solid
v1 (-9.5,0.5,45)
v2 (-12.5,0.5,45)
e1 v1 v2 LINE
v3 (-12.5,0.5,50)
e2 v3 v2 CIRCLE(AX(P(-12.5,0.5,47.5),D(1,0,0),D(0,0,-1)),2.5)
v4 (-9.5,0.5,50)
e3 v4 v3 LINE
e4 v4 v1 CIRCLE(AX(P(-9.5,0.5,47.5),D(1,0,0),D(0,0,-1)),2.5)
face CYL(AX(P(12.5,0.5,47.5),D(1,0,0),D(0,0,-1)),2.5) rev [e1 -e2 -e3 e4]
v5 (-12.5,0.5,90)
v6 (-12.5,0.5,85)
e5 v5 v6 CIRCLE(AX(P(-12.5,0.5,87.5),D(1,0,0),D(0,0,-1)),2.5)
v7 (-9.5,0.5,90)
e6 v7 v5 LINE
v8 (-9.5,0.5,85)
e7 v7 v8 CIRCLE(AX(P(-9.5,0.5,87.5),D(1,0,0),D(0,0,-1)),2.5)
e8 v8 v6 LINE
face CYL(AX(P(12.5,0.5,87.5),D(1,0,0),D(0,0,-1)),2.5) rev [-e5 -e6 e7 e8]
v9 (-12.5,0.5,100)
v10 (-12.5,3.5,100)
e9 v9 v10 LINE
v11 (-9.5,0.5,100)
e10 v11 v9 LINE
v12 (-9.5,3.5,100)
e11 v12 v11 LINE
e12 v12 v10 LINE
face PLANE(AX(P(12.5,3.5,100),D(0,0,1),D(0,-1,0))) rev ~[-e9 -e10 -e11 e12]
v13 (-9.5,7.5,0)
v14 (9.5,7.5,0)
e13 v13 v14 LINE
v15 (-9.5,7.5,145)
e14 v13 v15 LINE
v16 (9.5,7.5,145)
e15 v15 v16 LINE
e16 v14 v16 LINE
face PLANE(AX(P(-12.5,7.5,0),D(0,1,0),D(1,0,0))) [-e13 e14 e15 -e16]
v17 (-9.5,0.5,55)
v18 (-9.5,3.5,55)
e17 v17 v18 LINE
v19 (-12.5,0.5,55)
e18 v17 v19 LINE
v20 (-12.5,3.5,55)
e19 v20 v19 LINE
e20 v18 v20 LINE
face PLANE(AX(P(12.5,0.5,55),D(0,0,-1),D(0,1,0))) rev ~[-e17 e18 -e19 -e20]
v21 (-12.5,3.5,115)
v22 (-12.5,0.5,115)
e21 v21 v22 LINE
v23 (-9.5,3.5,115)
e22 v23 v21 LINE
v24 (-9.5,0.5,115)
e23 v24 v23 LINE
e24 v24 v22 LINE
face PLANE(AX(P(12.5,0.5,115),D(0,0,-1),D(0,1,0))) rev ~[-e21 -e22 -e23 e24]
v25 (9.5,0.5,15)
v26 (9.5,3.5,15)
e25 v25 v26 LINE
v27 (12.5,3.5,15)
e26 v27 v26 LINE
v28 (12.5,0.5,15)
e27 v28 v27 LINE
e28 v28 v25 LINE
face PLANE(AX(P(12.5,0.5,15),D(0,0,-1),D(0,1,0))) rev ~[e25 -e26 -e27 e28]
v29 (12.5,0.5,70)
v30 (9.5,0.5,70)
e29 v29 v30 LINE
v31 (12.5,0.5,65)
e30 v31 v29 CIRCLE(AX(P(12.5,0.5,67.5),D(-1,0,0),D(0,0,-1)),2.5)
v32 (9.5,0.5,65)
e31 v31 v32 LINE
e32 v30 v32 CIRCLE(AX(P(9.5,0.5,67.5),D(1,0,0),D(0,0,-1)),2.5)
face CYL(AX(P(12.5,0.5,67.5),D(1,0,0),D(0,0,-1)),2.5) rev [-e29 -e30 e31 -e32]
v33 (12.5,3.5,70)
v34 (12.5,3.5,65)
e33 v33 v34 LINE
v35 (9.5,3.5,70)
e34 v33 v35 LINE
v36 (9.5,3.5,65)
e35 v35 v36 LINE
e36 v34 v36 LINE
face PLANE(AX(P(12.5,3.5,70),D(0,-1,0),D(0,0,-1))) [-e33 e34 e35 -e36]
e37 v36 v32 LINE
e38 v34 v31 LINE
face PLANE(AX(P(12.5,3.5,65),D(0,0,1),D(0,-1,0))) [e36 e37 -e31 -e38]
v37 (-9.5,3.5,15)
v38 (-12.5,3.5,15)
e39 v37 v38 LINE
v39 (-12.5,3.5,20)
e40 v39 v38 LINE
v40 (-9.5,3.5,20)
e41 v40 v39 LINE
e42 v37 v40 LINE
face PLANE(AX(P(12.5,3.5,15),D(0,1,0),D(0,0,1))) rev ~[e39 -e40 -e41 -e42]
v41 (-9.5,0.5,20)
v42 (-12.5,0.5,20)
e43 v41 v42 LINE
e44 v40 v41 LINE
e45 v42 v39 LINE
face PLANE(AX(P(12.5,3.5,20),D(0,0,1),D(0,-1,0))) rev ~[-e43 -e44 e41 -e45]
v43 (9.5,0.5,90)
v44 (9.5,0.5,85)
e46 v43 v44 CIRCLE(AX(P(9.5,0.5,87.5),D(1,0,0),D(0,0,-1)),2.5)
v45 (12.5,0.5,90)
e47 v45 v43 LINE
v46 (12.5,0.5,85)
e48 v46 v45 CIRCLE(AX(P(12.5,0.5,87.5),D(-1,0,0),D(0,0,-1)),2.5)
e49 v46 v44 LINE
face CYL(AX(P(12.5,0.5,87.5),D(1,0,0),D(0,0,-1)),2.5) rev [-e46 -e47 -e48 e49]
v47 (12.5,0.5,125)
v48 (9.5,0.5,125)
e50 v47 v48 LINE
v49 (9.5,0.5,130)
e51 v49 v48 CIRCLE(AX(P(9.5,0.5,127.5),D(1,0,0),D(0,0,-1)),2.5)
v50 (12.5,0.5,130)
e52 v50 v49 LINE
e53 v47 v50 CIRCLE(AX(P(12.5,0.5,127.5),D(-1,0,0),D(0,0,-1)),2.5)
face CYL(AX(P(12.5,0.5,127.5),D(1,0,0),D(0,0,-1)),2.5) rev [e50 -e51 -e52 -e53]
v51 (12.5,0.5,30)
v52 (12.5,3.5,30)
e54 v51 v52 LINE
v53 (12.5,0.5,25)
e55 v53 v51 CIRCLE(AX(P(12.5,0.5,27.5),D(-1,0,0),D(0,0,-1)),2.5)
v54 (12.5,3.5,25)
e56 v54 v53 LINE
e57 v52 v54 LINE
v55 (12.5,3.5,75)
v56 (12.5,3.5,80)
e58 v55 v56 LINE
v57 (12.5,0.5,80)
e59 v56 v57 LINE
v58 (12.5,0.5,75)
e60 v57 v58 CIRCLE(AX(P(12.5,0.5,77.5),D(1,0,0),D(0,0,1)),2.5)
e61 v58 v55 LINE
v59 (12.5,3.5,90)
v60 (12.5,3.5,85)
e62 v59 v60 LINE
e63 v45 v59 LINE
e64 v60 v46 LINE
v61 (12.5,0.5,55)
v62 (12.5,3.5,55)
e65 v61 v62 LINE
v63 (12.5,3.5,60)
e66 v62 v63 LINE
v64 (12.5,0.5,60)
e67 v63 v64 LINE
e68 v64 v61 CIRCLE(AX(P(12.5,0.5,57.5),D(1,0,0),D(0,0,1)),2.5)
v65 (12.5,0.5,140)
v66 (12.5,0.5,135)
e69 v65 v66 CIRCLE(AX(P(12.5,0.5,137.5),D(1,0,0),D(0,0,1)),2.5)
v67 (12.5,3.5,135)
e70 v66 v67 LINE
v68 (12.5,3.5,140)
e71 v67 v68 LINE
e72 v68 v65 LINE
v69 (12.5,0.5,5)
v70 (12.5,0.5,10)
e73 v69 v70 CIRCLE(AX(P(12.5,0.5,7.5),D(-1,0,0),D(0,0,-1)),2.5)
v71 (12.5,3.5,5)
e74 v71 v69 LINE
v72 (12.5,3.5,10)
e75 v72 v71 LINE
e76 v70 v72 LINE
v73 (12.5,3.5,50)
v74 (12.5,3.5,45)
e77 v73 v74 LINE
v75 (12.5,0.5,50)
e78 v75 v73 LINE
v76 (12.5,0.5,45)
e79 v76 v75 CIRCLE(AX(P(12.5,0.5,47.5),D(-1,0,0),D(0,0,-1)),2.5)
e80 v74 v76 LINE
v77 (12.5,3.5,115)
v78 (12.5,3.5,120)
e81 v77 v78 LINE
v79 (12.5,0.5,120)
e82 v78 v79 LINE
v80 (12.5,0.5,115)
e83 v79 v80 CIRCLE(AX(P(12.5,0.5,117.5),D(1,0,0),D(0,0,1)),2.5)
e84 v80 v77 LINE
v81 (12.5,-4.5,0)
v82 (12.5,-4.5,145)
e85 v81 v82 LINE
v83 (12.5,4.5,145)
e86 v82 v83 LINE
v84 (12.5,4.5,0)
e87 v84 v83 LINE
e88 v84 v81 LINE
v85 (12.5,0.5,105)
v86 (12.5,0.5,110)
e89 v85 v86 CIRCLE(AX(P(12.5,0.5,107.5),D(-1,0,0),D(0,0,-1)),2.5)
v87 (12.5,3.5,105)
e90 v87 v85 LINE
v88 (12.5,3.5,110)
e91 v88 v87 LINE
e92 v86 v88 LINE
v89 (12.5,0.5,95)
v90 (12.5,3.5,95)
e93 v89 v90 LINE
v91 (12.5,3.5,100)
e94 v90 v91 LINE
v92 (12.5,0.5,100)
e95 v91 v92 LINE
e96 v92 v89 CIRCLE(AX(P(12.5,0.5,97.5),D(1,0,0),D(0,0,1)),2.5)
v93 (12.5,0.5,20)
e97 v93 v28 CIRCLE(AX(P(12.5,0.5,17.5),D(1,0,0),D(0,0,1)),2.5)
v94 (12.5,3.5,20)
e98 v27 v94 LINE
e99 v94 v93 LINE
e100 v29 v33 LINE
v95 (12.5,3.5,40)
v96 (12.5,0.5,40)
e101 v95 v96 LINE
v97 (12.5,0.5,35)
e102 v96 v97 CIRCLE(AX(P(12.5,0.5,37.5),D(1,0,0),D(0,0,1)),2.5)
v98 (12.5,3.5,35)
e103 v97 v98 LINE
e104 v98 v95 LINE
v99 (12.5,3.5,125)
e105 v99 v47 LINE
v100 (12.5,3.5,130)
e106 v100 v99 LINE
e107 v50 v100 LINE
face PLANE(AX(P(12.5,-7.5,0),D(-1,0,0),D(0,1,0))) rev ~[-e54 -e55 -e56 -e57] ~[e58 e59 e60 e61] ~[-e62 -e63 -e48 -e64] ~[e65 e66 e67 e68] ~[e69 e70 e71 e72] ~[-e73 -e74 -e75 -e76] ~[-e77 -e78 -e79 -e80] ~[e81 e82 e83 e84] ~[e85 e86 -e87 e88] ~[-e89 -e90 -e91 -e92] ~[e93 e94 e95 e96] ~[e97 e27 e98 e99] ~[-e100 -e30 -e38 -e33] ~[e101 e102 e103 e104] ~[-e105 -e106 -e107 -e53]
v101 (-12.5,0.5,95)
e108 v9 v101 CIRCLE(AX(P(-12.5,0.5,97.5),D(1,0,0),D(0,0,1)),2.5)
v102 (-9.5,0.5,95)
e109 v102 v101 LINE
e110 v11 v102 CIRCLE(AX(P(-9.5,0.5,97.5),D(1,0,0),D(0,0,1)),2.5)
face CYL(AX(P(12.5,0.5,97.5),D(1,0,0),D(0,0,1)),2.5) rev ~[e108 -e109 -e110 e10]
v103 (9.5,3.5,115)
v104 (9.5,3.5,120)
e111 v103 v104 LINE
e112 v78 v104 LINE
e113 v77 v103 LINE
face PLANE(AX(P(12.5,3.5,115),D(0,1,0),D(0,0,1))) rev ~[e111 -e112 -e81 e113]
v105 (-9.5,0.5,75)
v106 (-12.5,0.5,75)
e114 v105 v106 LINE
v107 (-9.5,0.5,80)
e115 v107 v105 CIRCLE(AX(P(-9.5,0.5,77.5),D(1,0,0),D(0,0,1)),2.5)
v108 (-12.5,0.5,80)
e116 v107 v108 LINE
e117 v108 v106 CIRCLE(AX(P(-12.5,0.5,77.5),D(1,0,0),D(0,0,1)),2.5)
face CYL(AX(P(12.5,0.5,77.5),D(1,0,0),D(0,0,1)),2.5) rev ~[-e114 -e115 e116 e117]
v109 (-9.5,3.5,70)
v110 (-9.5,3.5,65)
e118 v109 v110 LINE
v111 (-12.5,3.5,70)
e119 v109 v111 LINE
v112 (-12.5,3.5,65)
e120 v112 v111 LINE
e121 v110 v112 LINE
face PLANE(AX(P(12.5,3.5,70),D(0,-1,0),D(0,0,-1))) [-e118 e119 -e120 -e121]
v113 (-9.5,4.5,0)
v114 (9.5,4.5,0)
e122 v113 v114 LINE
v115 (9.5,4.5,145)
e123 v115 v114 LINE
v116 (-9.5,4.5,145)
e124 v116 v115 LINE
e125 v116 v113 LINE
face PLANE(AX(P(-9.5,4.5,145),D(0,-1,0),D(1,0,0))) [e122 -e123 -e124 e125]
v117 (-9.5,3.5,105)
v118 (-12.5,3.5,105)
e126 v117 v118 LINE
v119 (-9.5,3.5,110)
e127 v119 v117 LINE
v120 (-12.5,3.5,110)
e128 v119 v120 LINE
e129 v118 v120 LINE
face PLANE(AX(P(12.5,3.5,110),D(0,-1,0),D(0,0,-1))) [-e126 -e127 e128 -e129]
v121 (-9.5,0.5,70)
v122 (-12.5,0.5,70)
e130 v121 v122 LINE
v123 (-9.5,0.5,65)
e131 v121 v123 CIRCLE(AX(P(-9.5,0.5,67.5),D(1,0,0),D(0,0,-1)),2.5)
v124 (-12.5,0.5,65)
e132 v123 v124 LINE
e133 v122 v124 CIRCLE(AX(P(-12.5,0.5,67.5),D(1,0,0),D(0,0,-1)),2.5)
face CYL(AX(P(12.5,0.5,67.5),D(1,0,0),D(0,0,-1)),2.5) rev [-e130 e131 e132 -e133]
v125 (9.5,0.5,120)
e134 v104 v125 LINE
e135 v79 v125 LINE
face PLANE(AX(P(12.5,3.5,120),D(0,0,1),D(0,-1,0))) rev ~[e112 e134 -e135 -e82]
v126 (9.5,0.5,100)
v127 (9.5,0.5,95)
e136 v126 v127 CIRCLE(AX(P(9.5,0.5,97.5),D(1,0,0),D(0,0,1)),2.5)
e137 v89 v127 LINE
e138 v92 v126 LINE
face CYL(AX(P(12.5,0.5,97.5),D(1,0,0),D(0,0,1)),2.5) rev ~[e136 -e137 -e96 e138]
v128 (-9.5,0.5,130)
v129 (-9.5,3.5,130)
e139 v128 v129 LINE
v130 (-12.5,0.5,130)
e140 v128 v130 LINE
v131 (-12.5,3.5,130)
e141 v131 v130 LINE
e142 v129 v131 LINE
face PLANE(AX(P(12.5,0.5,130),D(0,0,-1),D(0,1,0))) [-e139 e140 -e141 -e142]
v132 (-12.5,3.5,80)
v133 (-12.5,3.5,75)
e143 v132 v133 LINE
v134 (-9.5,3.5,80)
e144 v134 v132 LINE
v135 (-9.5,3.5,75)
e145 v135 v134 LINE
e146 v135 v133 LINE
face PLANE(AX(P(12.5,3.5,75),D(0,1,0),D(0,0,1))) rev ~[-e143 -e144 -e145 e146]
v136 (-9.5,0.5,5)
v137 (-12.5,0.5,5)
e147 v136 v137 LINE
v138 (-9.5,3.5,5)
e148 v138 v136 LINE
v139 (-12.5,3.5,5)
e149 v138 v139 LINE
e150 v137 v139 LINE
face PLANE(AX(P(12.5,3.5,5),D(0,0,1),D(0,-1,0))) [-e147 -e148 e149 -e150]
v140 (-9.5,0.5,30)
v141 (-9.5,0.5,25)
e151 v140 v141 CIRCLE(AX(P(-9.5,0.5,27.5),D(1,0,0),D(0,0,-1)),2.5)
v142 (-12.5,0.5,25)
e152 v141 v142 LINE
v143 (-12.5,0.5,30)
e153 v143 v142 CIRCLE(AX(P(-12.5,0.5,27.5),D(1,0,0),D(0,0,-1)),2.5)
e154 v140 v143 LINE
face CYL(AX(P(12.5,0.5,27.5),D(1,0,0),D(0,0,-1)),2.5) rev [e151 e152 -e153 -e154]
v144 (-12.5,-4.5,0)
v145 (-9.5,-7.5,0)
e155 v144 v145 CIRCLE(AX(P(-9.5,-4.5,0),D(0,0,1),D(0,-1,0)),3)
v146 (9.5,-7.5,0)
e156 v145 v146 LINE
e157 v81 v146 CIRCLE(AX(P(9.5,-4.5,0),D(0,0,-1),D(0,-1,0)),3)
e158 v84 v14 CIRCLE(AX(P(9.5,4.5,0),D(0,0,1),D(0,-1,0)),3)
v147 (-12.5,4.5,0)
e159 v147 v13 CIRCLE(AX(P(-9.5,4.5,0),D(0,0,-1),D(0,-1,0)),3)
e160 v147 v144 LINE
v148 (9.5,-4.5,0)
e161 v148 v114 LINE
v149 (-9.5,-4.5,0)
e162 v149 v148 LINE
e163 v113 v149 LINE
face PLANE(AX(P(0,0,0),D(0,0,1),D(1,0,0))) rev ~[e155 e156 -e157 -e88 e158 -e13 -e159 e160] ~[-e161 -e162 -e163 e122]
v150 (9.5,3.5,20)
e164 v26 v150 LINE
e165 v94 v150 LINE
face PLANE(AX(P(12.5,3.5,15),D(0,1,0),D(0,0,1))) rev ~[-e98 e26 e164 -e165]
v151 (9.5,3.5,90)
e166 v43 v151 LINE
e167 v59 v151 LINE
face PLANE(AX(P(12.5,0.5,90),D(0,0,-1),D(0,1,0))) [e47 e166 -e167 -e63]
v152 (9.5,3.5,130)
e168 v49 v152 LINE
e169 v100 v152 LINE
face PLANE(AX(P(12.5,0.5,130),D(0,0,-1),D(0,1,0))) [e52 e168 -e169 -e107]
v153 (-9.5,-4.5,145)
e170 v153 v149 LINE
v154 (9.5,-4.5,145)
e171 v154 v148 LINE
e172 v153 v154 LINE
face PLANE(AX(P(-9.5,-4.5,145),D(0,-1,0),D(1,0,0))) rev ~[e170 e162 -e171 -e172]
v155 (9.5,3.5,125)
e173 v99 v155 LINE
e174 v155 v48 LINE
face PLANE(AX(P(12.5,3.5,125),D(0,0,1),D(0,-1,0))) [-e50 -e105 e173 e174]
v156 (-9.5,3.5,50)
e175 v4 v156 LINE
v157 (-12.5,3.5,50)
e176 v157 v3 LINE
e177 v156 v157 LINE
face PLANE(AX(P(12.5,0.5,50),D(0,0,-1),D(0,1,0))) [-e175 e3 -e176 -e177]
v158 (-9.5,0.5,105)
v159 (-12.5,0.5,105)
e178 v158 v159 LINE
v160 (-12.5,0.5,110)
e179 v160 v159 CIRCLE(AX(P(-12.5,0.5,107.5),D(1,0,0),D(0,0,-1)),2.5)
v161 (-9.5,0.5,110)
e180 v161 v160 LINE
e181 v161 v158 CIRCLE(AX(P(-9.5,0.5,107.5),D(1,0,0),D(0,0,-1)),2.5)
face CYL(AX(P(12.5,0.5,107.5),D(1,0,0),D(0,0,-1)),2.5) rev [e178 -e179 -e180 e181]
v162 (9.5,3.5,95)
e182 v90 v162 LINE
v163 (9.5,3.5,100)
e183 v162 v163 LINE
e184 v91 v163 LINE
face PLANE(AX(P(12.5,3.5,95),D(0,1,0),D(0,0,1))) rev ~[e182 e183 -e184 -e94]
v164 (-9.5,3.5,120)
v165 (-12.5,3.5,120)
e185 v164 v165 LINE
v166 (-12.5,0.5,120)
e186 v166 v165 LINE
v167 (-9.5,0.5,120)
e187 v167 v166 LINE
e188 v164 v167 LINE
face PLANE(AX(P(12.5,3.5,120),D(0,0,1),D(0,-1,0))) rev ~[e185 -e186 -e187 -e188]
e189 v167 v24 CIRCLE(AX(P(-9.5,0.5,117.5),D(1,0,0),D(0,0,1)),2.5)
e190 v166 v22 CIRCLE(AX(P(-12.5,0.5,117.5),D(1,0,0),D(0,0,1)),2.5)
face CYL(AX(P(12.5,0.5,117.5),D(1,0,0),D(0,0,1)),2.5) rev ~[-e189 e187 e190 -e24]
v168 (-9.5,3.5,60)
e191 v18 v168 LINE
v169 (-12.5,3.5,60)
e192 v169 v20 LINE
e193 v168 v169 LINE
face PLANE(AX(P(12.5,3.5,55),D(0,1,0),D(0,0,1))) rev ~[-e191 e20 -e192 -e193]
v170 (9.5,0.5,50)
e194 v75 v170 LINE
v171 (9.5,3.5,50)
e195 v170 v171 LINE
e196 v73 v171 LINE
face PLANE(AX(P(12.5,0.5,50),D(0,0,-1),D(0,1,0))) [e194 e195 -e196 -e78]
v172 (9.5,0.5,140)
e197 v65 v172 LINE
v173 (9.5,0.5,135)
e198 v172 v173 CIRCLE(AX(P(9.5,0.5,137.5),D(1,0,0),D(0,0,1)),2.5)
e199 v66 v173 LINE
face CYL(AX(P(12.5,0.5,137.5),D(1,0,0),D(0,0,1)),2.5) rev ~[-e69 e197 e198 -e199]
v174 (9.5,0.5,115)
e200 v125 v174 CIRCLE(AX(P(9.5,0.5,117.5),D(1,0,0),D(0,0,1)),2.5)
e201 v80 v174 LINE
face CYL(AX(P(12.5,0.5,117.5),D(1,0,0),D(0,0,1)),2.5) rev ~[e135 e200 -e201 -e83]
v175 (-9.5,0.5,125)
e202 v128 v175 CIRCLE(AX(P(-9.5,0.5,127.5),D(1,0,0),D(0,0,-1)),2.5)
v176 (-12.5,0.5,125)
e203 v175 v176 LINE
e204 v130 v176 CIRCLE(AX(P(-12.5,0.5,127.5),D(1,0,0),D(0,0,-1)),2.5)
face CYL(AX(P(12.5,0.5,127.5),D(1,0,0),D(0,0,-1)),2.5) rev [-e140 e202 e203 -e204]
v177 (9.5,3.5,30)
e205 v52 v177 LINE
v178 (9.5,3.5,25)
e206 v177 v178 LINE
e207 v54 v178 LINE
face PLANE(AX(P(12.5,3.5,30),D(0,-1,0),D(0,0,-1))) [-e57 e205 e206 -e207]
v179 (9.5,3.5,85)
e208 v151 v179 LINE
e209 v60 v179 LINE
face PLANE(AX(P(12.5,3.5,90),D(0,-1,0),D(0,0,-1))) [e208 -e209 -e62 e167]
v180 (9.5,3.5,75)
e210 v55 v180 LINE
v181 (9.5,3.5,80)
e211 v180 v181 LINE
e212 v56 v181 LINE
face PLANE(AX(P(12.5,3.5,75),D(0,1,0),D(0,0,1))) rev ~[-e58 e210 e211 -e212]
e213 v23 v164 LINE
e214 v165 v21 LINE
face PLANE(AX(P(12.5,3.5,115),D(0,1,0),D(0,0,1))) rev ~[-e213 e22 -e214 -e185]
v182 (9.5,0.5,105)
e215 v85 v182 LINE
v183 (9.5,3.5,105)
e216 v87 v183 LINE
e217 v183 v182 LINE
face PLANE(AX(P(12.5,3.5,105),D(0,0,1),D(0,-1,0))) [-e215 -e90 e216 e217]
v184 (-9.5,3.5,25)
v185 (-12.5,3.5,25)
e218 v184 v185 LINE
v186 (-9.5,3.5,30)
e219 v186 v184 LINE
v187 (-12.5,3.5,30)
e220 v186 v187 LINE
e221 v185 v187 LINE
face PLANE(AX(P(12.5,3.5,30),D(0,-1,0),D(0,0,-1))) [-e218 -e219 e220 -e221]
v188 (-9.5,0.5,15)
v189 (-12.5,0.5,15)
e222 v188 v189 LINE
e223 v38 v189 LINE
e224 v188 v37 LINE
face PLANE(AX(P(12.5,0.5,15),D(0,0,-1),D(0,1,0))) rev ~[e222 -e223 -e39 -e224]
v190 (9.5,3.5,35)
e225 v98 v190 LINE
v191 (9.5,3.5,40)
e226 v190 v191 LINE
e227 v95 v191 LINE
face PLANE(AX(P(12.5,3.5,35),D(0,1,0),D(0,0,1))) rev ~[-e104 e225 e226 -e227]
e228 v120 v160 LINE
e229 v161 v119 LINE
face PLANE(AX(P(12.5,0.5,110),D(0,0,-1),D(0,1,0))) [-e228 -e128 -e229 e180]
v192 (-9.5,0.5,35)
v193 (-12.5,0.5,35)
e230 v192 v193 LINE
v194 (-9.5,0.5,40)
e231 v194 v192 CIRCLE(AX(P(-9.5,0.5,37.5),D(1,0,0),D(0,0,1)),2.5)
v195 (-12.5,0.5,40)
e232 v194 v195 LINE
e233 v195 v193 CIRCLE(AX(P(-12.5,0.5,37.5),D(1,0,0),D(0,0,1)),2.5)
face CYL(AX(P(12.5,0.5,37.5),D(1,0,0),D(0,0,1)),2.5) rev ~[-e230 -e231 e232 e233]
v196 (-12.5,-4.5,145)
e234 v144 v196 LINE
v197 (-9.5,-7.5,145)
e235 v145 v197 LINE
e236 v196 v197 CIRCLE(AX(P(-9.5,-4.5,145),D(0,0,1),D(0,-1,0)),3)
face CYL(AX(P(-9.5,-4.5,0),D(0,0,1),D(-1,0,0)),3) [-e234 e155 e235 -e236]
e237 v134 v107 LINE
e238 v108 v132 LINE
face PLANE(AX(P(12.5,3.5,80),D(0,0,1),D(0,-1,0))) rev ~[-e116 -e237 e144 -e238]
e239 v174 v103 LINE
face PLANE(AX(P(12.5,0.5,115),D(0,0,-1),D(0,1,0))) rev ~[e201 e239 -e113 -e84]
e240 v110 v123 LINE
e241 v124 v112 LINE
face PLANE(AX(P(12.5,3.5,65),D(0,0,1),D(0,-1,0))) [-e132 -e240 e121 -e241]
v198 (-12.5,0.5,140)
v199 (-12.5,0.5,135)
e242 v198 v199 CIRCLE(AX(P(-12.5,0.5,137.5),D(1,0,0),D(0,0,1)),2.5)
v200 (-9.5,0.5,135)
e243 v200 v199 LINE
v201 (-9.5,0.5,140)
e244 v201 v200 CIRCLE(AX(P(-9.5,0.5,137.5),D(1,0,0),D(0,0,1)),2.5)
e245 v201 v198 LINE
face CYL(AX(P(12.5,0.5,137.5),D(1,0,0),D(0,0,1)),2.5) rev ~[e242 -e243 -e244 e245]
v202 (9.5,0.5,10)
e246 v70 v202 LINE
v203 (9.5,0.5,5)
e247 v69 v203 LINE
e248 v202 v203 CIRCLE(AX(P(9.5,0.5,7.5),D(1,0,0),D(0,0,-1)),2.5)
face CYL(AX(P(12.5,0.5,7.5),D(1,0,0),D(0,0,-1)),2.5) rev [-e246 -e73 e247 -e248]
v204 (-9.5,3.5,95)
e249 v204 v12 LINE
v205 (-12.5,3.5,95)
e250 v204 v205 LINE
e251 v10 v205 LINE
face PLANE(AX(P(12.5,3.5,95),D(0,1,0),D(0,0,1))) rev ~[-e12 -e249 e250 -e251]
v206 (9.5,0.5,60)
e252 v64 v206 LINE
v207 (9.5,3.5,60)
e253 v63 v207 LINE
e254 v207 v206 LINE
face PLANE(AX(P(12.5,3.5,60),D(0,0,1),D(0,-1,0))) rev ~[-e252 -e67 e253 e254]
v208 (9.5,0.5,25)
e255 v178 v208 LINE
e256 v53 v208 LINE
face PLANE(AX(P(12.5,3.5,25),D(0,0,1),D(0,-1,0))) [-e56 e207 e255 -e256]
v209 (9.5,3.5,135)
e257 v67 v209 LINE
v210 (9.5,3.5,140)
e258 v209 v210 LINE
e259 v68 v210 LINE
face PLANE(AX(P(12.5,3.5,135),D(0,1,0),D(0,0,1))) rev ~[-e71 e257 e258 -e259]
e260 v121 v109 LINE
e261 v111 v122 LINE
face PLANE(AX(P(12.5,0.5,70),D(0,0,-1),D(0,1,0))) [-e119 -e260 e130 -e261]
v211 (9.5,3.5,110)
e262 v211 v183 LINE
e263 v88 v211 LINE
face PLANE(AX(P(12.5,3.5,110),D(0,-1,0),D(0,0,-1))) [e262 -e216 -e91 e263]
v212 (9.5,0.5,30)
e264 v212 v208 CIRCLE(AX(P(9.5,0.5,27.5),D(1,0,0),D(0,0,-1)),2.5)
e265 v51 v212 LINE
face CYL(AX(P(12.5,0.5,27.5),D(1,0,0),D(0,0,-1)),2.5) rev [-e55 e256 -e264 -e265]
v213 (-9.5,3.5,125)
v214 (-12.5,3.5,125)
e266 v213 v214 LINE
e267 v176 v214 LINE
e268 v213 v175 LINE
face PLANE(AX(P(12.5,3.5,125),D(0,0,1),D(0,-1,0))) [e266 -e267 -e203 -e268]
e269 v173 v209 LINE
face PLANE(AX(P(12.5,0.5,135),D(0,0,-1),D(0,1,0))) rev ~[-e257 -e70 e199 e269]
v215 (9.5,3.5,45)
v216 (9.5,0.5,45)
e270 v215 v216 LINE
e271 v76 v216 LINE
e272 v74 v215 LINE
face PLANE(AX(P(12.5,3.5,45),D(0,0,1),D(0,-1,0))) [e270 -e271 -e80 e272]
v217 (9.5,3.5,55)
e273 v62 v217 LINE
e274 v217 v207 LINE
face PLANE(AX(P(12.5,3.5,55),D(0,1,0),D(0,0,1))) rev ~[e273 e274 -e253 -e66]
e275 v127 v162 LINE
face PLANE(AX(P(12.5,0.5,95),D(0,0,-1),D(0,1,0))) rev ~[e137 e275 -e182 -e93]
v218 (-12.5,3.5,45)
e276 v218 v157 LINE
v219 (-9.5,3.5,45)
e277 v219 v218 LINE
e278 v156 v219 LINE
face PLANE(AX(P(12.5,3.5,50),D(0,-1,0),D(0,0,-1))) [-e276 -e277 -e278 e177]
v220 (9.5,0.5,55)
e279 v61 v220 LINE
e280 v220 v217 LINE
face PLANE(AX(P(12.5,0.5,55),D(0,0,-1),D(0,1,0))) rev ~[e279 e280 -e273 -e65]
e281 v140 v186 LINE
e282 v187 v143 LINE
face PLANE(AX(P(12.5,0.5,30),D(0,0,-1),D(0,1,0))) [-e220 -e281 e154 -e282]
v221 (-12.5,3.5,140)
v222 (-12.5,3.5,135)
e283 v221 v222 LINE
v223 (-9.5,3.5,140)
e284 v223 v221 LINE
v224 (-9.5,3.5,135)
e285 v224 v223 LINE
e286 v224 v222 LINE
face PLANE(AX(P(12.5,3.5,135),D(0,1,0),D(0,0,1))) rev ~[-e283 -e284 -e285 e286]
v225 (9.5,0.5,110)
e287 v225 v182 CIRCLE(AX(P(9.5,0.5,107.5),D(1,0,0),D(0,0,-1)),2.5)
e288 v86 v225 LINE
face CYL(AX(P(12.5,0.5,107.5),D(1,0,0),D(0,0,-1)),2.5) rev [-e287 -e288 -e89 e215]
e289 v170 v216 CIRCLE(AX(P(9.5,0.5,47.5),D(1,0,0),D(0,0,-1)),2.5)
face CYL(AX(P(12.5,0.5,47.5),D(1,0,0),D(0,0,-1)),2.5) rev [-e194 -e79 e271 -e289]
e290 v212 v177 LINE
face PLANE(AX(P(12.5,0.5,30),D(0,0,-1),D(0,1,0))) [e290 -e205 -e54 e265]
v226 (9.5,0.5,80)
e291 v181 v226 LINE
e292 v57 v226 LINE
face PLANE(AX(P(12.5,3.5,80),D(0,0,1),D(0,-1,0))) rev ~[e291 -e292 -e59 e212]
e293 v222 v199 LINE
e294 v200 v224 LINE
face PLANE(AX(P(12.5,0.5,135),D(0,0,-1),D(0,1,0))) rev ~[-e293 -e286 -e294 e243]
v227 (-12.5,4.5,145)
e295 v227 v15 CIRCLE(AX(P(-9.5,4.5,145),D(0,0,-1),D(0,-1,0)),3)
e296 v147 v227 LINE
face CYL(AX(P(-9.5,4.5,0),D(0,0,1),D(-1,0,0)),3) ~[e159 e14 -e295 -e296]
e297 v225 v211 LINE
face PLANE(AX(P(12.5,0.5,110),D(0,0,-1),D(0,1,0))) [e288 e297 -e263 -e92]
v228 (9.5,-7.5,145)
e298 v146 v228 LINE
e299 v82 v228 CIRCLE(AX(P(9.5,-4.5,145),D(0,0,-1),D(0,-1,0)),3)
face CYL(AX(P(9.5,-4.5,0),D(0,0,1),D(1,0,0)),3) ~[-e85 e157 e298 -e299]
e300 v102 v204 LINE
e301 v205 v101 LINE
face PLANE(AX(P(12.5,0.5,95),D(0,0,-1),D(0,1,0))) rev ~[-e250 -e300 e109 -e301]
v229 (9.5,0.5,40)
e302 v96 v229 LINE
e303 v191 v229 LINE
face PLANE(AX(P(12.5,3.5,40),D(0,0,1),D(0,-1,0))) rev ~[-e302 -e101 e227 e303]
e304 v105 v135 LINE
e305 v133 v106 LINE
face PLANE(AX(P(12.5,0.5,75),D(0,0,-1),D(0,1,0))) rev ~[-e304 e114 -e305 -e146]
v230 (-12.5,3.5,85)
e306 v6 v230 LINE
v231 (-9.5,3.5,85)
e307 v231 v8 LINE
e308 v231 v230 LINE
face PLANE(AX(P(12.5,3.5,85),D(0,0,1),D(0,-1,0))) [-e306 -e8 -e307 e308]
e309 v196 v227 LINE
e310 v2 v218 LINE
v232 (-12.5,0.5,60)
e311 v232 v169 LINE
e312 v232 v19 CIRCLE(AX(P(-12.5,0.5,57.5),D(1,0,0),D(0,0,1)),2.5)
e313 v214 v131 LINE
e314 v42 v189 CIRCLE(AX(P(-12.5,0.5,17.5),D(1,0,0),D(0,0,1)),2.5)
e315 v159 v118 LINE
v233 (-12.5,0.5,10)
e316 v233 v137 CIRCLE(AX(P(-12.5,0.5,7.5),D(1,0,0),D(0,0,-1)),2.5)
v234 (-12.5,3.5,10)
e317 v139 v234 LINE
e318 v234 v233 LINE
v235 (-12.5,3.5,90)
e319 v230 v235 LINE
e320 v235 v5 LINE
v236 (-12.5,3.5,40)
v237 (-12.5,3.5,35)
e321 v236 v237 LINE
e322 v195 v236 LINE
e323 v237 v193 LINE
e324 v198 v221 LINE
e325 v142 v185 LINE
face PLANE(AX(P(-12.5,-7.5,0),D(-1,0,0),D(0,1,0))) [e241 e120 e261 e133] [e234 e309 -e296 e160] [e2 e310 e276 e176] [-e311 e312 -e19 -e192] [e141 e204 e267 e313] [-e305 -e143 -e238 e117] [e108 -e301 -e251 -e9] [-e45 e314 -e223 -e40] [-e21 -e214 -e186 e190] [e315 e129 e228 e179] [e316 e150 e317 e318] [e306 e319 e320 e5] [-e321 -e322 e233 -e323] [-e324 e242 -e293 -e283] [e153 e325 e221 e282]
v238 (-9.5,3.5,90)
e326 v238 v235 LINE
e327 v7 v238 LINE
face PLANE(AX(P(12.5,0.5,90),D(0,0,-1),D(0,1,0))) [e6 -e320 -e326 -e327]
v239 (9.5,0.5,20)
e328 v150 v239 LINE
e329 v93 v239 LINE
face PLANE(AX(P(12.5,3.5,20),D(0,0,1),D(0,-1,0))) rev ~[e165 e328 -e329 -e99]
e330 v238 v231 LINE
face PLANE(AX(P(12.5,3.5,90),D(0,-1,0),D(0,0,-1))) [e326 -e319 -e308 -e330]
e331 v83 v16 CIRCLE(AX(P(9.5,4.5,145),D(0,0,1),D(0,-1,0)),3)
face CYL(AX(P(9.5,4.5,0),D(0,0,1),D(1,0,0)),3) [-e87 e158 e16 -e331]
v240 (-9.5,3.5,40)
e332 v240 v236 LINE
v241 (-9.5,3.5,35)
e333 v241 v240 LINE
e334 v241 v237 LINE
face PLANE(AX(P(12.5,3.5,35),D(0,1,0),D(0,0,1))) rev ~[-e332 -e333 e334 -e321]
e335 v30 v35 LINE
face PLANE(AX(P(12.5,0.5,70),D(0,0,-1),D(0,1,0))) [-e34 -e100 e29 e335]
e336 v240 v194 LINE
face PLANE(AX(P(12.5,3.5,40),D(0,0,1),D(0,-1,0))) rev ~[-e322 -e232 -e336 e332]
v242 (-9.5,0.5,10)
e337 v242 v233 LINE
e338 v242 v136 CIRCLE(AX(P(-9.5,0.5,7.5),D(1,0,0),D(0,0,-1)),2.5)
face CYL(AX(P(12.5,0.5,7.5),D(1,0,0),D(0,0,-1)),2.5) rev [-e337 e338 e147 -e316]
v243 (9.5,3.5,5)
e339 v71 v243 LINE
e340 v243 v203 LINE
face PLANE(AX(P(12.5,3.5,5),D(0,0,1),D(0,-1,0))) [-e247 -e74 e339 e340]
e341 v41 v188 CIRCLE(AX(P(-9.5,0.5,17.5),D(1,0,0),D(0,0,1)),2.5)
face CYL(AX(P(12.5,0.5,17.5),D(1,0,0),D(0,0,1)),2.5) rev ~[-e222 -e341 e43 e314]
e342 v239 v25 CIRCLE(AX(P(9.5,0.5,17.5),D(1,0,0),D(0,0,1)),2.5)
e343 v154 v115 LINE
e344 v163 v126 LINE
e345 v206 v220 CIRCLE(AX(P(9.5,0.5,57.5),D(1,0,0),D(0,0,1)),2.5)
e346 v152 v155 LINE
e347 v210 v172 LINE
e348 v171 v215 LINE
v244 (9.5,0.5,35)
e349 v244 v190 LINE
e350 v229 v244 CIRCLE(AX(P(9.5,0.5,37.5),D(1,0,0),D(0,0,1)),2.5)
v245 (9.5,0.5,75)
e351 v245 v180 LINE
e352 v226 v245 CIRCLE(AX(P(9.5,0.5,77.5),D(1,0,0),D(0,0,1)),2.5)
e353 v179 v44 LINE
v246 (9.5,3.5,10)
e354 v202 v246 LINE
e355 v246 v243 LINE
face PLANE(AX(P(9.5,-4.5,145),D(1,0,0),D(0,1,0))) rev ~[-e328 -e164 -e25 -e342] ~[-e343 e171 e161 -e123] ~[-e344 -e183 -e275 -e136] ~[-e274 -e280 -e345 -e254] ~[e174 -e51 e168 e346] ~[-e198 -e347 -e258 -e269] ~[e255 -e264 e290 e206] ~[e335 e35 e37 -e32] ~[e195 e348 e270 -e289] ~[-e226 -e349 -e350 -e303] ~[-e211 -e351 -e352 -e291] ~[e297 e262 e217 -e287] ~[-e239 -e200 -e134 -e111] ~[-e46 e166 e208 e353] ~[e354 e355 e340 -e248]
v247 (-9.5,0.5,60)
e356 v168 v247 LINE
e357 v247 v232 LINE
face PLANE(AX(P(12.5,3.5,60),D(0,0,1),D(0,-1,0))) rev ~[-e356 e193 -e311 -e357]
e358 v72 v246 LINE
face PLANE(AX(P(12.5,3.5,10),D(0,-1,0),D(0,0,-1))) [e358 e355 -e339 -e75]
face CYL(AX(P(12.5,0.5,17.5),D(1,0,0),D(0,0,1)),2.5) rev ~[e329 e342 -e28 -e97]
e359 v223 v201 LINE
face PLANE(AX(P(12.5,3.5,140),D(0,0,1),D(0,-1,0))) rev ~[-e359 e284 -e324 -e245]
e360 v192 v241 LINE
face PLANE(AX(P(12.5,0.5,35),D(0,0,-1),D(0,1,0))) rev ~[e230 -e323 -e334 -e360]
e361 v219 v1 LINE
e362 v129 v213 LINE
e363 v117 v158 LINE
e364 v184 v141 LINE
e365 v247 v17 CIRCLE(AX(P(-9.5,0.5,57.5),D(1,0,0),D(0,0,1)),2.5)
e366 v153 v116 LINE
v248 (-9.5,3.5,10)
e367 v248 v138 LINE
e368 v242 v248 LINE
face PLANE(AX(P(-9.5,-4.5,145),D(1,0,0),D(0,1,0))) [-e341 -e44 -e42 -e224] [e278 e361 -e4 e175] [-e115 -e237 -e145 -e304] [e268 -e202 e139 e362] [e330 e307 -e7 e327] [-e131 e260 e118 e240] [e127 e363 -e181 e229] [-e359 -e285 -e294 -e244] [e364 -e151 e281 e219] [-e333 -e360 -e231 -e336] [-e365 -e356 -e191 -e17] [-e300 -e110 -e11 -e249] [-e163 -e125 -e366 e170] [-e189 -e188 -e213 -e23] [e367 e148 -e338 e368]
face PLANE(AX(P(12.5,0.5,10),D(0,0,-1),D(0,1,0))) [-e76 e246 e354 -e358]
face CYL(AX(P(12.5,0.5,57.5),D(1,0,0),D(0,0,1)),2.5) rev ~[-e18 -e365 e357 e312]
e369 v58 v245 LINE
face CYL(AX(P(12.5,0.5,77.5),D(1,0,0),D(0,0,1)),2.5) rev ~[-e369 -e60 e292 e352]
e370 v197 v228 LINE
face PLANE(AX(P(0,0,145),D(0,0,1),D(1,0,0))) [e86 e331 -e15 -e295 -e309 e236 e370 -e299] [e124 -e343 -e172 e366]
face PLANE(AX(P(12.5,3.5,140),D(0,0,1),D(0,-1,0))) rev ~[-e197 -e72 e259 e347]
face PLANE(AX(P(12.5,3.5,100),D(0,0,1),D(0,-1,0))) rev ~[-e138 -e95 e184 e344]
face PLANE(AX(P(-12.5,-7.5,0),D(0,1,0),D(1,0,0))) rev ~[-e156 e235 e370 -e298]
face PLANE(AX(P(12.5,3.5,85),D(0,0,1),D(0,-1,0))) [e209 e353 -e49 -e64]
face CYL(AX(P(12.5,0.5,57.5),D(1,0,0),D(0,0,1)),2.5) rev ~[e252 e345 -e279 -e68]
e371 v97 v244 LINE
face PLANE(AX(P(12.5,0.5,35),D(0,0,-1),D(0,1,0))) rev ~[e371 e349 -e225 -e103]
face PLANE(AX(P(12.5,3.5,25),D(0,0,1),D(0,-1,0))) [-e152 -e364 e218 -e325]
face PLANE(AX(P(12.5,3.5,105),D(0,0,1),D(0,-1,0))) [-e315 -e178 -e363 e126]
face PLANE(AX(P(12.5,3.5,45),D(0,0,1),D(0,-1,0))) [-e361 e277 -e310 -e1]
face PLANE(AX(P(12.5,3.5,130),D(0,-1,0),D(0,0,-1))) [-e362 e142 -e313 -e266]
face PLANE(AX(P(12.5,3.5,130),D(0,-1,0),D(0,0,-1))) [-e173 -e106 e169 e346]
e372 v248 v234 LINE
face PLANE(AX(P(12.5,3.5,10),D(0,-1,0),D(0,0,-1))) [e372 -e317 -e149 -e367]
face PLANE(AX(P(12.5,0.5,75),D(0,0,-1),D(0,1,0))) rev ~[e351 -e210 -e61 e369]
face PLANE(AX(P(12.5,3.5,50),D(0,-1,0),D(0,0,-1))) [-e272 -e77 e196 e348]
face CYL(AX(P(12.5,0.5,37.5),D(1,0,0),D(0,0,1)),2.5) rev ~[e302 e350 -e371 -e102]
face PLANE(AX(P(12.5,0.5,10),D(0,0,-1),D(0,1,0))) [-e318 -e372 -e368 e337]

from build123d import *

# Parameters (mm, degrees)
SKETCH1_W           = 25
SKETCH1_H           = 15
BOSS_EXTRUDE1_DEPTH = 145
SKETCH2_W           = 19
SKETCH2_H           = 9
CUT_EXTRUDE1_DEPTH  = 263
CUT_EXTRUDE2_DEPTH  = 263
FILLET1_R           = 3


with BuildPart() as part:
    # Sketch1 → Boss-Extrude1 (new body)
    with BuildSketch(Plane.XY):
        Rectangle(SKETCH1_W, SKETCH1_H)
    extrude(amount=BOSS_EXTRUDE1_DEPTH)

    # Sketch2 → Cut-Extrude1 (cut)
    with BuildSketch(Plane.XY.offset(145)):
        Rectangle(SKETCH2_W, SKETCH2_H)
    extrude(amount=-CUT_EXTRUDE1_DEPTH, mode=Mode.SUBTRACT)

    # Sketch3 → Cut-Extrude2 (cut)
    with BuildSketch(Plane(origin=(12.5, 0, 0), x_dir=(0, 0, -1), z_dir=(1, 0, 0))):
        with BuildLine():
            Line((-140, 3.5), (-140, 0.5))
            ThreePointArc((-140, 0.5), (-137.5, -2), (-135, 0.5))
            Line((-135, 0.5), (-135, 3.5))
            Line((-135, 3.5), (-140, 3.5))
        make_face()
        with BuildLine():
            ThreePointArc((-125, 0.5), (-127.5, -2), (-130, 0.5))
            Line((-130, 0.5), (-130, 3.5))
            Line((-130, 3.5), (-125, 3.5))
            Line((-125, 3.5), (-125, 0.5))
        make_face()
        with BuildLine():
            Line((-120, 3.5), (-120, 0.5))
            ThreePointArc((-120, 0.5), (-117.5, -2), (-115, 0.5))
            Line((-115, 0.5), (-115, 3.5))
            Line((-115, 3.5), (-120, 3.5))
        make_face()
        with BuildLine():
            ThreePointArc((-105, 0.5), (-107.5, -2), (-110, 0.5))
            Line((-110, 0.5), (-110, 3.5))
            Line((-110, 3.5), (-105, 3.5))
            Line((-105, 3.5), (-105, 0.5))
        make_face()
        with BuildLine():
            Line((-100, 3.5), (-100, 0.5))
            ThreePointArc((-100, 0.5), (-97.5, -2), (-95, 0.5))
            Line((-95, 0.5), (-95, 3.5))
            Line((-95, 3.5), (-100, 3.5))
        make_face()
        with BuildLine():
            ThreePointArc((-85, 0.5), (-87.5, -2), (-90, 0.5))
            Line((-90, 0.5), (-90, 3.5))
            Line((-90, 3.5), (-85, 3.5))
            Line((-85, 3.5), (-85, 0.5))
        make_face()
        with BuildLine():
            Line((-80, 3.5), (-80, 0.5))
            ThreePointArc((-80, 0.5), (-77.5, -2), (-75, 0.5))
            Line((-75, 0.5), (-75, 3.5))
            Line((-75, 3.5), (-80, 3.5))
        make_face()
        with BuildLine():
            ThreePointArc((-65, 0.5), (-67.5, -2), (-70, 0.5))
            Line((-70, 0.5), (-70, 3.5))
            Line((-70, 3.5), (-65, 3.5))
            Line((-65, 3.5), (-65, 0.5))
        make_face()
        with BuildLine():
            Line((-60, 3.5), (-60, 0.5))
            ThreePointArc((-60, 0.5), (-57.5, -2), (-55, 0.5))
            Line((-55, 0.5), (-55, 3.5))
            Line((-55, 3.5), (-60, 3.5))
        make_face()
        with BuildLine():
            ThreePointArc((-45, 0.5), (-47.5, -2), (-50, 0.5))
            Line((-50, 0.5), (-50, 3.5))
            Line((-50, 3.5), (-45, 3.5))
            Line((-45, 3.5), (-45, 0.5))
        make_face()
        with BuildLine():
            Line((-40, 3.5), (-40, 0.5))
            ThreePointArc((-40, 0.5), (-37.5, -2), (-35, 0.5))
            Line((-35, 0.5), (-35, 3.5))
            Line((-35, 3.5), (-40, 3.5))
        make_face()
        with BuildLine():
            ThreePointArc((-25, 0.5), (-27.5, -2), (-30, 0.5))
            Line((-30, 0.5), (-30, 3.5))
            Line((-30, 3.5), (-25, 3.5))
            Line((-25, 3.5), (-25, 0.5))
        make_face()
        with BuildLine():
            Line((-20, 3.5), (-20, 0.5))
            ThreePointArc((-20, 0.5), (-17.5, -2), (-15, 0.5))
            Line((-15, 0.5), (-15, 3.5))
            Line((-15, 3.5), (-20, 3.5))
        make_face()
        with BuildLine():
            ThreePointArc((-5, 0.5), (-7.5, -2), (-10, 0.5))
            Line((-10, 0.5), (-10, 3.5))
            Line((-10, 3.5), (-5, 3.5))
            Line((-5, 3.5), (-5, 0.5))
        make_face()
        with BuildLine():
            Line((0, 3.5), (0, 0.5))
            ThreePointArc((0, 0.5), (2.5, -2), (5, 0.5))
            Line((5, 0.5), (5, 3.5))
            Line((5, 3.5), (0, 3.5))
        make_face()
        with BuildLine():
            ThreePointArc((15, 0.5), (12.5, -2), (10, 0.5))
            Line((10, 0.5), (10, 3.5))
            Line((10, 3.5), (15, 3.5))
            Line((15, 3.5), (15, 0.5))
        make_face()
        with BuildLine():
            Line((20, 3.5), (20, 0.5))
            ThreePointArc((20, 0.5), (22.5, -2), (25, 0.5))
            Line((25, 0.5), (25, 3.5))
            Line((25, 3.5), (20, 3.5))
        make_face()
        with BuildLine():
            ThreePointArc((35, 0.5), (32.5, -2), (30, 0.5))
            Line((30, 0.5), (30, 3.5))
            Line((30, 3.5), (35, 3.5))
            Line((35, 3.5), (35, 0.5))
        make_face()
        with BuildLine():
            Line((40, 3.5), (40, 0.5))
            ThreePointArc((40, 0.5), (42.5, -2), (45, 0.5))
            Line((45, 0.5), (45, 3.5))
            Line((45, 3.5), (40, 3.5))
        make_face()
        with BuildLine():
            ThreePointArc((55, 0.5), (52.5, -2), (50, 0.5))
            Line((50, 0.5), (50, 3.5))
            Line((50, 3.5), (55, 3.5))
            Line((55, 3.5), (55, 0.5))
        make_face()
        with BuildLine():
            Line((60, 3.5), (60, 0.5))
            ThreePointArc((60, 0.5), (62.5, -2), (65, 0.5))
            Line((65, 0.5), (65, 3.5))
            Line((65, 3.5), (60, 3.5))
        make_face()
        with BuildLine():
            ThreePointArc((75, 0.5), (72.5, -2), (70, 0.5))
            Line((70, 0.5), (70, 3.5))
            Line((70, 3.5), (75, 3.5))
            Line((75, 3.5), (75, 0.5))
        make_face()
    extrude(amount=-CUT_EXTRUDE2_DEPTH, mode=Mode.SUBTRACT)

    # Fillet1
    fillet1_edges = [part.edges().sort_by_distance(p)[0] for p in [
        (12.5, -7.5, 72.5),
        (-12.5, -7.5, 72.5),
        (-12.5, 7.5, 72.5),
        (12.5, 7.5, 72.5),
    ]]
    fillet(fillet1_edges, radius=FILLET1_R)


solid = part.part
